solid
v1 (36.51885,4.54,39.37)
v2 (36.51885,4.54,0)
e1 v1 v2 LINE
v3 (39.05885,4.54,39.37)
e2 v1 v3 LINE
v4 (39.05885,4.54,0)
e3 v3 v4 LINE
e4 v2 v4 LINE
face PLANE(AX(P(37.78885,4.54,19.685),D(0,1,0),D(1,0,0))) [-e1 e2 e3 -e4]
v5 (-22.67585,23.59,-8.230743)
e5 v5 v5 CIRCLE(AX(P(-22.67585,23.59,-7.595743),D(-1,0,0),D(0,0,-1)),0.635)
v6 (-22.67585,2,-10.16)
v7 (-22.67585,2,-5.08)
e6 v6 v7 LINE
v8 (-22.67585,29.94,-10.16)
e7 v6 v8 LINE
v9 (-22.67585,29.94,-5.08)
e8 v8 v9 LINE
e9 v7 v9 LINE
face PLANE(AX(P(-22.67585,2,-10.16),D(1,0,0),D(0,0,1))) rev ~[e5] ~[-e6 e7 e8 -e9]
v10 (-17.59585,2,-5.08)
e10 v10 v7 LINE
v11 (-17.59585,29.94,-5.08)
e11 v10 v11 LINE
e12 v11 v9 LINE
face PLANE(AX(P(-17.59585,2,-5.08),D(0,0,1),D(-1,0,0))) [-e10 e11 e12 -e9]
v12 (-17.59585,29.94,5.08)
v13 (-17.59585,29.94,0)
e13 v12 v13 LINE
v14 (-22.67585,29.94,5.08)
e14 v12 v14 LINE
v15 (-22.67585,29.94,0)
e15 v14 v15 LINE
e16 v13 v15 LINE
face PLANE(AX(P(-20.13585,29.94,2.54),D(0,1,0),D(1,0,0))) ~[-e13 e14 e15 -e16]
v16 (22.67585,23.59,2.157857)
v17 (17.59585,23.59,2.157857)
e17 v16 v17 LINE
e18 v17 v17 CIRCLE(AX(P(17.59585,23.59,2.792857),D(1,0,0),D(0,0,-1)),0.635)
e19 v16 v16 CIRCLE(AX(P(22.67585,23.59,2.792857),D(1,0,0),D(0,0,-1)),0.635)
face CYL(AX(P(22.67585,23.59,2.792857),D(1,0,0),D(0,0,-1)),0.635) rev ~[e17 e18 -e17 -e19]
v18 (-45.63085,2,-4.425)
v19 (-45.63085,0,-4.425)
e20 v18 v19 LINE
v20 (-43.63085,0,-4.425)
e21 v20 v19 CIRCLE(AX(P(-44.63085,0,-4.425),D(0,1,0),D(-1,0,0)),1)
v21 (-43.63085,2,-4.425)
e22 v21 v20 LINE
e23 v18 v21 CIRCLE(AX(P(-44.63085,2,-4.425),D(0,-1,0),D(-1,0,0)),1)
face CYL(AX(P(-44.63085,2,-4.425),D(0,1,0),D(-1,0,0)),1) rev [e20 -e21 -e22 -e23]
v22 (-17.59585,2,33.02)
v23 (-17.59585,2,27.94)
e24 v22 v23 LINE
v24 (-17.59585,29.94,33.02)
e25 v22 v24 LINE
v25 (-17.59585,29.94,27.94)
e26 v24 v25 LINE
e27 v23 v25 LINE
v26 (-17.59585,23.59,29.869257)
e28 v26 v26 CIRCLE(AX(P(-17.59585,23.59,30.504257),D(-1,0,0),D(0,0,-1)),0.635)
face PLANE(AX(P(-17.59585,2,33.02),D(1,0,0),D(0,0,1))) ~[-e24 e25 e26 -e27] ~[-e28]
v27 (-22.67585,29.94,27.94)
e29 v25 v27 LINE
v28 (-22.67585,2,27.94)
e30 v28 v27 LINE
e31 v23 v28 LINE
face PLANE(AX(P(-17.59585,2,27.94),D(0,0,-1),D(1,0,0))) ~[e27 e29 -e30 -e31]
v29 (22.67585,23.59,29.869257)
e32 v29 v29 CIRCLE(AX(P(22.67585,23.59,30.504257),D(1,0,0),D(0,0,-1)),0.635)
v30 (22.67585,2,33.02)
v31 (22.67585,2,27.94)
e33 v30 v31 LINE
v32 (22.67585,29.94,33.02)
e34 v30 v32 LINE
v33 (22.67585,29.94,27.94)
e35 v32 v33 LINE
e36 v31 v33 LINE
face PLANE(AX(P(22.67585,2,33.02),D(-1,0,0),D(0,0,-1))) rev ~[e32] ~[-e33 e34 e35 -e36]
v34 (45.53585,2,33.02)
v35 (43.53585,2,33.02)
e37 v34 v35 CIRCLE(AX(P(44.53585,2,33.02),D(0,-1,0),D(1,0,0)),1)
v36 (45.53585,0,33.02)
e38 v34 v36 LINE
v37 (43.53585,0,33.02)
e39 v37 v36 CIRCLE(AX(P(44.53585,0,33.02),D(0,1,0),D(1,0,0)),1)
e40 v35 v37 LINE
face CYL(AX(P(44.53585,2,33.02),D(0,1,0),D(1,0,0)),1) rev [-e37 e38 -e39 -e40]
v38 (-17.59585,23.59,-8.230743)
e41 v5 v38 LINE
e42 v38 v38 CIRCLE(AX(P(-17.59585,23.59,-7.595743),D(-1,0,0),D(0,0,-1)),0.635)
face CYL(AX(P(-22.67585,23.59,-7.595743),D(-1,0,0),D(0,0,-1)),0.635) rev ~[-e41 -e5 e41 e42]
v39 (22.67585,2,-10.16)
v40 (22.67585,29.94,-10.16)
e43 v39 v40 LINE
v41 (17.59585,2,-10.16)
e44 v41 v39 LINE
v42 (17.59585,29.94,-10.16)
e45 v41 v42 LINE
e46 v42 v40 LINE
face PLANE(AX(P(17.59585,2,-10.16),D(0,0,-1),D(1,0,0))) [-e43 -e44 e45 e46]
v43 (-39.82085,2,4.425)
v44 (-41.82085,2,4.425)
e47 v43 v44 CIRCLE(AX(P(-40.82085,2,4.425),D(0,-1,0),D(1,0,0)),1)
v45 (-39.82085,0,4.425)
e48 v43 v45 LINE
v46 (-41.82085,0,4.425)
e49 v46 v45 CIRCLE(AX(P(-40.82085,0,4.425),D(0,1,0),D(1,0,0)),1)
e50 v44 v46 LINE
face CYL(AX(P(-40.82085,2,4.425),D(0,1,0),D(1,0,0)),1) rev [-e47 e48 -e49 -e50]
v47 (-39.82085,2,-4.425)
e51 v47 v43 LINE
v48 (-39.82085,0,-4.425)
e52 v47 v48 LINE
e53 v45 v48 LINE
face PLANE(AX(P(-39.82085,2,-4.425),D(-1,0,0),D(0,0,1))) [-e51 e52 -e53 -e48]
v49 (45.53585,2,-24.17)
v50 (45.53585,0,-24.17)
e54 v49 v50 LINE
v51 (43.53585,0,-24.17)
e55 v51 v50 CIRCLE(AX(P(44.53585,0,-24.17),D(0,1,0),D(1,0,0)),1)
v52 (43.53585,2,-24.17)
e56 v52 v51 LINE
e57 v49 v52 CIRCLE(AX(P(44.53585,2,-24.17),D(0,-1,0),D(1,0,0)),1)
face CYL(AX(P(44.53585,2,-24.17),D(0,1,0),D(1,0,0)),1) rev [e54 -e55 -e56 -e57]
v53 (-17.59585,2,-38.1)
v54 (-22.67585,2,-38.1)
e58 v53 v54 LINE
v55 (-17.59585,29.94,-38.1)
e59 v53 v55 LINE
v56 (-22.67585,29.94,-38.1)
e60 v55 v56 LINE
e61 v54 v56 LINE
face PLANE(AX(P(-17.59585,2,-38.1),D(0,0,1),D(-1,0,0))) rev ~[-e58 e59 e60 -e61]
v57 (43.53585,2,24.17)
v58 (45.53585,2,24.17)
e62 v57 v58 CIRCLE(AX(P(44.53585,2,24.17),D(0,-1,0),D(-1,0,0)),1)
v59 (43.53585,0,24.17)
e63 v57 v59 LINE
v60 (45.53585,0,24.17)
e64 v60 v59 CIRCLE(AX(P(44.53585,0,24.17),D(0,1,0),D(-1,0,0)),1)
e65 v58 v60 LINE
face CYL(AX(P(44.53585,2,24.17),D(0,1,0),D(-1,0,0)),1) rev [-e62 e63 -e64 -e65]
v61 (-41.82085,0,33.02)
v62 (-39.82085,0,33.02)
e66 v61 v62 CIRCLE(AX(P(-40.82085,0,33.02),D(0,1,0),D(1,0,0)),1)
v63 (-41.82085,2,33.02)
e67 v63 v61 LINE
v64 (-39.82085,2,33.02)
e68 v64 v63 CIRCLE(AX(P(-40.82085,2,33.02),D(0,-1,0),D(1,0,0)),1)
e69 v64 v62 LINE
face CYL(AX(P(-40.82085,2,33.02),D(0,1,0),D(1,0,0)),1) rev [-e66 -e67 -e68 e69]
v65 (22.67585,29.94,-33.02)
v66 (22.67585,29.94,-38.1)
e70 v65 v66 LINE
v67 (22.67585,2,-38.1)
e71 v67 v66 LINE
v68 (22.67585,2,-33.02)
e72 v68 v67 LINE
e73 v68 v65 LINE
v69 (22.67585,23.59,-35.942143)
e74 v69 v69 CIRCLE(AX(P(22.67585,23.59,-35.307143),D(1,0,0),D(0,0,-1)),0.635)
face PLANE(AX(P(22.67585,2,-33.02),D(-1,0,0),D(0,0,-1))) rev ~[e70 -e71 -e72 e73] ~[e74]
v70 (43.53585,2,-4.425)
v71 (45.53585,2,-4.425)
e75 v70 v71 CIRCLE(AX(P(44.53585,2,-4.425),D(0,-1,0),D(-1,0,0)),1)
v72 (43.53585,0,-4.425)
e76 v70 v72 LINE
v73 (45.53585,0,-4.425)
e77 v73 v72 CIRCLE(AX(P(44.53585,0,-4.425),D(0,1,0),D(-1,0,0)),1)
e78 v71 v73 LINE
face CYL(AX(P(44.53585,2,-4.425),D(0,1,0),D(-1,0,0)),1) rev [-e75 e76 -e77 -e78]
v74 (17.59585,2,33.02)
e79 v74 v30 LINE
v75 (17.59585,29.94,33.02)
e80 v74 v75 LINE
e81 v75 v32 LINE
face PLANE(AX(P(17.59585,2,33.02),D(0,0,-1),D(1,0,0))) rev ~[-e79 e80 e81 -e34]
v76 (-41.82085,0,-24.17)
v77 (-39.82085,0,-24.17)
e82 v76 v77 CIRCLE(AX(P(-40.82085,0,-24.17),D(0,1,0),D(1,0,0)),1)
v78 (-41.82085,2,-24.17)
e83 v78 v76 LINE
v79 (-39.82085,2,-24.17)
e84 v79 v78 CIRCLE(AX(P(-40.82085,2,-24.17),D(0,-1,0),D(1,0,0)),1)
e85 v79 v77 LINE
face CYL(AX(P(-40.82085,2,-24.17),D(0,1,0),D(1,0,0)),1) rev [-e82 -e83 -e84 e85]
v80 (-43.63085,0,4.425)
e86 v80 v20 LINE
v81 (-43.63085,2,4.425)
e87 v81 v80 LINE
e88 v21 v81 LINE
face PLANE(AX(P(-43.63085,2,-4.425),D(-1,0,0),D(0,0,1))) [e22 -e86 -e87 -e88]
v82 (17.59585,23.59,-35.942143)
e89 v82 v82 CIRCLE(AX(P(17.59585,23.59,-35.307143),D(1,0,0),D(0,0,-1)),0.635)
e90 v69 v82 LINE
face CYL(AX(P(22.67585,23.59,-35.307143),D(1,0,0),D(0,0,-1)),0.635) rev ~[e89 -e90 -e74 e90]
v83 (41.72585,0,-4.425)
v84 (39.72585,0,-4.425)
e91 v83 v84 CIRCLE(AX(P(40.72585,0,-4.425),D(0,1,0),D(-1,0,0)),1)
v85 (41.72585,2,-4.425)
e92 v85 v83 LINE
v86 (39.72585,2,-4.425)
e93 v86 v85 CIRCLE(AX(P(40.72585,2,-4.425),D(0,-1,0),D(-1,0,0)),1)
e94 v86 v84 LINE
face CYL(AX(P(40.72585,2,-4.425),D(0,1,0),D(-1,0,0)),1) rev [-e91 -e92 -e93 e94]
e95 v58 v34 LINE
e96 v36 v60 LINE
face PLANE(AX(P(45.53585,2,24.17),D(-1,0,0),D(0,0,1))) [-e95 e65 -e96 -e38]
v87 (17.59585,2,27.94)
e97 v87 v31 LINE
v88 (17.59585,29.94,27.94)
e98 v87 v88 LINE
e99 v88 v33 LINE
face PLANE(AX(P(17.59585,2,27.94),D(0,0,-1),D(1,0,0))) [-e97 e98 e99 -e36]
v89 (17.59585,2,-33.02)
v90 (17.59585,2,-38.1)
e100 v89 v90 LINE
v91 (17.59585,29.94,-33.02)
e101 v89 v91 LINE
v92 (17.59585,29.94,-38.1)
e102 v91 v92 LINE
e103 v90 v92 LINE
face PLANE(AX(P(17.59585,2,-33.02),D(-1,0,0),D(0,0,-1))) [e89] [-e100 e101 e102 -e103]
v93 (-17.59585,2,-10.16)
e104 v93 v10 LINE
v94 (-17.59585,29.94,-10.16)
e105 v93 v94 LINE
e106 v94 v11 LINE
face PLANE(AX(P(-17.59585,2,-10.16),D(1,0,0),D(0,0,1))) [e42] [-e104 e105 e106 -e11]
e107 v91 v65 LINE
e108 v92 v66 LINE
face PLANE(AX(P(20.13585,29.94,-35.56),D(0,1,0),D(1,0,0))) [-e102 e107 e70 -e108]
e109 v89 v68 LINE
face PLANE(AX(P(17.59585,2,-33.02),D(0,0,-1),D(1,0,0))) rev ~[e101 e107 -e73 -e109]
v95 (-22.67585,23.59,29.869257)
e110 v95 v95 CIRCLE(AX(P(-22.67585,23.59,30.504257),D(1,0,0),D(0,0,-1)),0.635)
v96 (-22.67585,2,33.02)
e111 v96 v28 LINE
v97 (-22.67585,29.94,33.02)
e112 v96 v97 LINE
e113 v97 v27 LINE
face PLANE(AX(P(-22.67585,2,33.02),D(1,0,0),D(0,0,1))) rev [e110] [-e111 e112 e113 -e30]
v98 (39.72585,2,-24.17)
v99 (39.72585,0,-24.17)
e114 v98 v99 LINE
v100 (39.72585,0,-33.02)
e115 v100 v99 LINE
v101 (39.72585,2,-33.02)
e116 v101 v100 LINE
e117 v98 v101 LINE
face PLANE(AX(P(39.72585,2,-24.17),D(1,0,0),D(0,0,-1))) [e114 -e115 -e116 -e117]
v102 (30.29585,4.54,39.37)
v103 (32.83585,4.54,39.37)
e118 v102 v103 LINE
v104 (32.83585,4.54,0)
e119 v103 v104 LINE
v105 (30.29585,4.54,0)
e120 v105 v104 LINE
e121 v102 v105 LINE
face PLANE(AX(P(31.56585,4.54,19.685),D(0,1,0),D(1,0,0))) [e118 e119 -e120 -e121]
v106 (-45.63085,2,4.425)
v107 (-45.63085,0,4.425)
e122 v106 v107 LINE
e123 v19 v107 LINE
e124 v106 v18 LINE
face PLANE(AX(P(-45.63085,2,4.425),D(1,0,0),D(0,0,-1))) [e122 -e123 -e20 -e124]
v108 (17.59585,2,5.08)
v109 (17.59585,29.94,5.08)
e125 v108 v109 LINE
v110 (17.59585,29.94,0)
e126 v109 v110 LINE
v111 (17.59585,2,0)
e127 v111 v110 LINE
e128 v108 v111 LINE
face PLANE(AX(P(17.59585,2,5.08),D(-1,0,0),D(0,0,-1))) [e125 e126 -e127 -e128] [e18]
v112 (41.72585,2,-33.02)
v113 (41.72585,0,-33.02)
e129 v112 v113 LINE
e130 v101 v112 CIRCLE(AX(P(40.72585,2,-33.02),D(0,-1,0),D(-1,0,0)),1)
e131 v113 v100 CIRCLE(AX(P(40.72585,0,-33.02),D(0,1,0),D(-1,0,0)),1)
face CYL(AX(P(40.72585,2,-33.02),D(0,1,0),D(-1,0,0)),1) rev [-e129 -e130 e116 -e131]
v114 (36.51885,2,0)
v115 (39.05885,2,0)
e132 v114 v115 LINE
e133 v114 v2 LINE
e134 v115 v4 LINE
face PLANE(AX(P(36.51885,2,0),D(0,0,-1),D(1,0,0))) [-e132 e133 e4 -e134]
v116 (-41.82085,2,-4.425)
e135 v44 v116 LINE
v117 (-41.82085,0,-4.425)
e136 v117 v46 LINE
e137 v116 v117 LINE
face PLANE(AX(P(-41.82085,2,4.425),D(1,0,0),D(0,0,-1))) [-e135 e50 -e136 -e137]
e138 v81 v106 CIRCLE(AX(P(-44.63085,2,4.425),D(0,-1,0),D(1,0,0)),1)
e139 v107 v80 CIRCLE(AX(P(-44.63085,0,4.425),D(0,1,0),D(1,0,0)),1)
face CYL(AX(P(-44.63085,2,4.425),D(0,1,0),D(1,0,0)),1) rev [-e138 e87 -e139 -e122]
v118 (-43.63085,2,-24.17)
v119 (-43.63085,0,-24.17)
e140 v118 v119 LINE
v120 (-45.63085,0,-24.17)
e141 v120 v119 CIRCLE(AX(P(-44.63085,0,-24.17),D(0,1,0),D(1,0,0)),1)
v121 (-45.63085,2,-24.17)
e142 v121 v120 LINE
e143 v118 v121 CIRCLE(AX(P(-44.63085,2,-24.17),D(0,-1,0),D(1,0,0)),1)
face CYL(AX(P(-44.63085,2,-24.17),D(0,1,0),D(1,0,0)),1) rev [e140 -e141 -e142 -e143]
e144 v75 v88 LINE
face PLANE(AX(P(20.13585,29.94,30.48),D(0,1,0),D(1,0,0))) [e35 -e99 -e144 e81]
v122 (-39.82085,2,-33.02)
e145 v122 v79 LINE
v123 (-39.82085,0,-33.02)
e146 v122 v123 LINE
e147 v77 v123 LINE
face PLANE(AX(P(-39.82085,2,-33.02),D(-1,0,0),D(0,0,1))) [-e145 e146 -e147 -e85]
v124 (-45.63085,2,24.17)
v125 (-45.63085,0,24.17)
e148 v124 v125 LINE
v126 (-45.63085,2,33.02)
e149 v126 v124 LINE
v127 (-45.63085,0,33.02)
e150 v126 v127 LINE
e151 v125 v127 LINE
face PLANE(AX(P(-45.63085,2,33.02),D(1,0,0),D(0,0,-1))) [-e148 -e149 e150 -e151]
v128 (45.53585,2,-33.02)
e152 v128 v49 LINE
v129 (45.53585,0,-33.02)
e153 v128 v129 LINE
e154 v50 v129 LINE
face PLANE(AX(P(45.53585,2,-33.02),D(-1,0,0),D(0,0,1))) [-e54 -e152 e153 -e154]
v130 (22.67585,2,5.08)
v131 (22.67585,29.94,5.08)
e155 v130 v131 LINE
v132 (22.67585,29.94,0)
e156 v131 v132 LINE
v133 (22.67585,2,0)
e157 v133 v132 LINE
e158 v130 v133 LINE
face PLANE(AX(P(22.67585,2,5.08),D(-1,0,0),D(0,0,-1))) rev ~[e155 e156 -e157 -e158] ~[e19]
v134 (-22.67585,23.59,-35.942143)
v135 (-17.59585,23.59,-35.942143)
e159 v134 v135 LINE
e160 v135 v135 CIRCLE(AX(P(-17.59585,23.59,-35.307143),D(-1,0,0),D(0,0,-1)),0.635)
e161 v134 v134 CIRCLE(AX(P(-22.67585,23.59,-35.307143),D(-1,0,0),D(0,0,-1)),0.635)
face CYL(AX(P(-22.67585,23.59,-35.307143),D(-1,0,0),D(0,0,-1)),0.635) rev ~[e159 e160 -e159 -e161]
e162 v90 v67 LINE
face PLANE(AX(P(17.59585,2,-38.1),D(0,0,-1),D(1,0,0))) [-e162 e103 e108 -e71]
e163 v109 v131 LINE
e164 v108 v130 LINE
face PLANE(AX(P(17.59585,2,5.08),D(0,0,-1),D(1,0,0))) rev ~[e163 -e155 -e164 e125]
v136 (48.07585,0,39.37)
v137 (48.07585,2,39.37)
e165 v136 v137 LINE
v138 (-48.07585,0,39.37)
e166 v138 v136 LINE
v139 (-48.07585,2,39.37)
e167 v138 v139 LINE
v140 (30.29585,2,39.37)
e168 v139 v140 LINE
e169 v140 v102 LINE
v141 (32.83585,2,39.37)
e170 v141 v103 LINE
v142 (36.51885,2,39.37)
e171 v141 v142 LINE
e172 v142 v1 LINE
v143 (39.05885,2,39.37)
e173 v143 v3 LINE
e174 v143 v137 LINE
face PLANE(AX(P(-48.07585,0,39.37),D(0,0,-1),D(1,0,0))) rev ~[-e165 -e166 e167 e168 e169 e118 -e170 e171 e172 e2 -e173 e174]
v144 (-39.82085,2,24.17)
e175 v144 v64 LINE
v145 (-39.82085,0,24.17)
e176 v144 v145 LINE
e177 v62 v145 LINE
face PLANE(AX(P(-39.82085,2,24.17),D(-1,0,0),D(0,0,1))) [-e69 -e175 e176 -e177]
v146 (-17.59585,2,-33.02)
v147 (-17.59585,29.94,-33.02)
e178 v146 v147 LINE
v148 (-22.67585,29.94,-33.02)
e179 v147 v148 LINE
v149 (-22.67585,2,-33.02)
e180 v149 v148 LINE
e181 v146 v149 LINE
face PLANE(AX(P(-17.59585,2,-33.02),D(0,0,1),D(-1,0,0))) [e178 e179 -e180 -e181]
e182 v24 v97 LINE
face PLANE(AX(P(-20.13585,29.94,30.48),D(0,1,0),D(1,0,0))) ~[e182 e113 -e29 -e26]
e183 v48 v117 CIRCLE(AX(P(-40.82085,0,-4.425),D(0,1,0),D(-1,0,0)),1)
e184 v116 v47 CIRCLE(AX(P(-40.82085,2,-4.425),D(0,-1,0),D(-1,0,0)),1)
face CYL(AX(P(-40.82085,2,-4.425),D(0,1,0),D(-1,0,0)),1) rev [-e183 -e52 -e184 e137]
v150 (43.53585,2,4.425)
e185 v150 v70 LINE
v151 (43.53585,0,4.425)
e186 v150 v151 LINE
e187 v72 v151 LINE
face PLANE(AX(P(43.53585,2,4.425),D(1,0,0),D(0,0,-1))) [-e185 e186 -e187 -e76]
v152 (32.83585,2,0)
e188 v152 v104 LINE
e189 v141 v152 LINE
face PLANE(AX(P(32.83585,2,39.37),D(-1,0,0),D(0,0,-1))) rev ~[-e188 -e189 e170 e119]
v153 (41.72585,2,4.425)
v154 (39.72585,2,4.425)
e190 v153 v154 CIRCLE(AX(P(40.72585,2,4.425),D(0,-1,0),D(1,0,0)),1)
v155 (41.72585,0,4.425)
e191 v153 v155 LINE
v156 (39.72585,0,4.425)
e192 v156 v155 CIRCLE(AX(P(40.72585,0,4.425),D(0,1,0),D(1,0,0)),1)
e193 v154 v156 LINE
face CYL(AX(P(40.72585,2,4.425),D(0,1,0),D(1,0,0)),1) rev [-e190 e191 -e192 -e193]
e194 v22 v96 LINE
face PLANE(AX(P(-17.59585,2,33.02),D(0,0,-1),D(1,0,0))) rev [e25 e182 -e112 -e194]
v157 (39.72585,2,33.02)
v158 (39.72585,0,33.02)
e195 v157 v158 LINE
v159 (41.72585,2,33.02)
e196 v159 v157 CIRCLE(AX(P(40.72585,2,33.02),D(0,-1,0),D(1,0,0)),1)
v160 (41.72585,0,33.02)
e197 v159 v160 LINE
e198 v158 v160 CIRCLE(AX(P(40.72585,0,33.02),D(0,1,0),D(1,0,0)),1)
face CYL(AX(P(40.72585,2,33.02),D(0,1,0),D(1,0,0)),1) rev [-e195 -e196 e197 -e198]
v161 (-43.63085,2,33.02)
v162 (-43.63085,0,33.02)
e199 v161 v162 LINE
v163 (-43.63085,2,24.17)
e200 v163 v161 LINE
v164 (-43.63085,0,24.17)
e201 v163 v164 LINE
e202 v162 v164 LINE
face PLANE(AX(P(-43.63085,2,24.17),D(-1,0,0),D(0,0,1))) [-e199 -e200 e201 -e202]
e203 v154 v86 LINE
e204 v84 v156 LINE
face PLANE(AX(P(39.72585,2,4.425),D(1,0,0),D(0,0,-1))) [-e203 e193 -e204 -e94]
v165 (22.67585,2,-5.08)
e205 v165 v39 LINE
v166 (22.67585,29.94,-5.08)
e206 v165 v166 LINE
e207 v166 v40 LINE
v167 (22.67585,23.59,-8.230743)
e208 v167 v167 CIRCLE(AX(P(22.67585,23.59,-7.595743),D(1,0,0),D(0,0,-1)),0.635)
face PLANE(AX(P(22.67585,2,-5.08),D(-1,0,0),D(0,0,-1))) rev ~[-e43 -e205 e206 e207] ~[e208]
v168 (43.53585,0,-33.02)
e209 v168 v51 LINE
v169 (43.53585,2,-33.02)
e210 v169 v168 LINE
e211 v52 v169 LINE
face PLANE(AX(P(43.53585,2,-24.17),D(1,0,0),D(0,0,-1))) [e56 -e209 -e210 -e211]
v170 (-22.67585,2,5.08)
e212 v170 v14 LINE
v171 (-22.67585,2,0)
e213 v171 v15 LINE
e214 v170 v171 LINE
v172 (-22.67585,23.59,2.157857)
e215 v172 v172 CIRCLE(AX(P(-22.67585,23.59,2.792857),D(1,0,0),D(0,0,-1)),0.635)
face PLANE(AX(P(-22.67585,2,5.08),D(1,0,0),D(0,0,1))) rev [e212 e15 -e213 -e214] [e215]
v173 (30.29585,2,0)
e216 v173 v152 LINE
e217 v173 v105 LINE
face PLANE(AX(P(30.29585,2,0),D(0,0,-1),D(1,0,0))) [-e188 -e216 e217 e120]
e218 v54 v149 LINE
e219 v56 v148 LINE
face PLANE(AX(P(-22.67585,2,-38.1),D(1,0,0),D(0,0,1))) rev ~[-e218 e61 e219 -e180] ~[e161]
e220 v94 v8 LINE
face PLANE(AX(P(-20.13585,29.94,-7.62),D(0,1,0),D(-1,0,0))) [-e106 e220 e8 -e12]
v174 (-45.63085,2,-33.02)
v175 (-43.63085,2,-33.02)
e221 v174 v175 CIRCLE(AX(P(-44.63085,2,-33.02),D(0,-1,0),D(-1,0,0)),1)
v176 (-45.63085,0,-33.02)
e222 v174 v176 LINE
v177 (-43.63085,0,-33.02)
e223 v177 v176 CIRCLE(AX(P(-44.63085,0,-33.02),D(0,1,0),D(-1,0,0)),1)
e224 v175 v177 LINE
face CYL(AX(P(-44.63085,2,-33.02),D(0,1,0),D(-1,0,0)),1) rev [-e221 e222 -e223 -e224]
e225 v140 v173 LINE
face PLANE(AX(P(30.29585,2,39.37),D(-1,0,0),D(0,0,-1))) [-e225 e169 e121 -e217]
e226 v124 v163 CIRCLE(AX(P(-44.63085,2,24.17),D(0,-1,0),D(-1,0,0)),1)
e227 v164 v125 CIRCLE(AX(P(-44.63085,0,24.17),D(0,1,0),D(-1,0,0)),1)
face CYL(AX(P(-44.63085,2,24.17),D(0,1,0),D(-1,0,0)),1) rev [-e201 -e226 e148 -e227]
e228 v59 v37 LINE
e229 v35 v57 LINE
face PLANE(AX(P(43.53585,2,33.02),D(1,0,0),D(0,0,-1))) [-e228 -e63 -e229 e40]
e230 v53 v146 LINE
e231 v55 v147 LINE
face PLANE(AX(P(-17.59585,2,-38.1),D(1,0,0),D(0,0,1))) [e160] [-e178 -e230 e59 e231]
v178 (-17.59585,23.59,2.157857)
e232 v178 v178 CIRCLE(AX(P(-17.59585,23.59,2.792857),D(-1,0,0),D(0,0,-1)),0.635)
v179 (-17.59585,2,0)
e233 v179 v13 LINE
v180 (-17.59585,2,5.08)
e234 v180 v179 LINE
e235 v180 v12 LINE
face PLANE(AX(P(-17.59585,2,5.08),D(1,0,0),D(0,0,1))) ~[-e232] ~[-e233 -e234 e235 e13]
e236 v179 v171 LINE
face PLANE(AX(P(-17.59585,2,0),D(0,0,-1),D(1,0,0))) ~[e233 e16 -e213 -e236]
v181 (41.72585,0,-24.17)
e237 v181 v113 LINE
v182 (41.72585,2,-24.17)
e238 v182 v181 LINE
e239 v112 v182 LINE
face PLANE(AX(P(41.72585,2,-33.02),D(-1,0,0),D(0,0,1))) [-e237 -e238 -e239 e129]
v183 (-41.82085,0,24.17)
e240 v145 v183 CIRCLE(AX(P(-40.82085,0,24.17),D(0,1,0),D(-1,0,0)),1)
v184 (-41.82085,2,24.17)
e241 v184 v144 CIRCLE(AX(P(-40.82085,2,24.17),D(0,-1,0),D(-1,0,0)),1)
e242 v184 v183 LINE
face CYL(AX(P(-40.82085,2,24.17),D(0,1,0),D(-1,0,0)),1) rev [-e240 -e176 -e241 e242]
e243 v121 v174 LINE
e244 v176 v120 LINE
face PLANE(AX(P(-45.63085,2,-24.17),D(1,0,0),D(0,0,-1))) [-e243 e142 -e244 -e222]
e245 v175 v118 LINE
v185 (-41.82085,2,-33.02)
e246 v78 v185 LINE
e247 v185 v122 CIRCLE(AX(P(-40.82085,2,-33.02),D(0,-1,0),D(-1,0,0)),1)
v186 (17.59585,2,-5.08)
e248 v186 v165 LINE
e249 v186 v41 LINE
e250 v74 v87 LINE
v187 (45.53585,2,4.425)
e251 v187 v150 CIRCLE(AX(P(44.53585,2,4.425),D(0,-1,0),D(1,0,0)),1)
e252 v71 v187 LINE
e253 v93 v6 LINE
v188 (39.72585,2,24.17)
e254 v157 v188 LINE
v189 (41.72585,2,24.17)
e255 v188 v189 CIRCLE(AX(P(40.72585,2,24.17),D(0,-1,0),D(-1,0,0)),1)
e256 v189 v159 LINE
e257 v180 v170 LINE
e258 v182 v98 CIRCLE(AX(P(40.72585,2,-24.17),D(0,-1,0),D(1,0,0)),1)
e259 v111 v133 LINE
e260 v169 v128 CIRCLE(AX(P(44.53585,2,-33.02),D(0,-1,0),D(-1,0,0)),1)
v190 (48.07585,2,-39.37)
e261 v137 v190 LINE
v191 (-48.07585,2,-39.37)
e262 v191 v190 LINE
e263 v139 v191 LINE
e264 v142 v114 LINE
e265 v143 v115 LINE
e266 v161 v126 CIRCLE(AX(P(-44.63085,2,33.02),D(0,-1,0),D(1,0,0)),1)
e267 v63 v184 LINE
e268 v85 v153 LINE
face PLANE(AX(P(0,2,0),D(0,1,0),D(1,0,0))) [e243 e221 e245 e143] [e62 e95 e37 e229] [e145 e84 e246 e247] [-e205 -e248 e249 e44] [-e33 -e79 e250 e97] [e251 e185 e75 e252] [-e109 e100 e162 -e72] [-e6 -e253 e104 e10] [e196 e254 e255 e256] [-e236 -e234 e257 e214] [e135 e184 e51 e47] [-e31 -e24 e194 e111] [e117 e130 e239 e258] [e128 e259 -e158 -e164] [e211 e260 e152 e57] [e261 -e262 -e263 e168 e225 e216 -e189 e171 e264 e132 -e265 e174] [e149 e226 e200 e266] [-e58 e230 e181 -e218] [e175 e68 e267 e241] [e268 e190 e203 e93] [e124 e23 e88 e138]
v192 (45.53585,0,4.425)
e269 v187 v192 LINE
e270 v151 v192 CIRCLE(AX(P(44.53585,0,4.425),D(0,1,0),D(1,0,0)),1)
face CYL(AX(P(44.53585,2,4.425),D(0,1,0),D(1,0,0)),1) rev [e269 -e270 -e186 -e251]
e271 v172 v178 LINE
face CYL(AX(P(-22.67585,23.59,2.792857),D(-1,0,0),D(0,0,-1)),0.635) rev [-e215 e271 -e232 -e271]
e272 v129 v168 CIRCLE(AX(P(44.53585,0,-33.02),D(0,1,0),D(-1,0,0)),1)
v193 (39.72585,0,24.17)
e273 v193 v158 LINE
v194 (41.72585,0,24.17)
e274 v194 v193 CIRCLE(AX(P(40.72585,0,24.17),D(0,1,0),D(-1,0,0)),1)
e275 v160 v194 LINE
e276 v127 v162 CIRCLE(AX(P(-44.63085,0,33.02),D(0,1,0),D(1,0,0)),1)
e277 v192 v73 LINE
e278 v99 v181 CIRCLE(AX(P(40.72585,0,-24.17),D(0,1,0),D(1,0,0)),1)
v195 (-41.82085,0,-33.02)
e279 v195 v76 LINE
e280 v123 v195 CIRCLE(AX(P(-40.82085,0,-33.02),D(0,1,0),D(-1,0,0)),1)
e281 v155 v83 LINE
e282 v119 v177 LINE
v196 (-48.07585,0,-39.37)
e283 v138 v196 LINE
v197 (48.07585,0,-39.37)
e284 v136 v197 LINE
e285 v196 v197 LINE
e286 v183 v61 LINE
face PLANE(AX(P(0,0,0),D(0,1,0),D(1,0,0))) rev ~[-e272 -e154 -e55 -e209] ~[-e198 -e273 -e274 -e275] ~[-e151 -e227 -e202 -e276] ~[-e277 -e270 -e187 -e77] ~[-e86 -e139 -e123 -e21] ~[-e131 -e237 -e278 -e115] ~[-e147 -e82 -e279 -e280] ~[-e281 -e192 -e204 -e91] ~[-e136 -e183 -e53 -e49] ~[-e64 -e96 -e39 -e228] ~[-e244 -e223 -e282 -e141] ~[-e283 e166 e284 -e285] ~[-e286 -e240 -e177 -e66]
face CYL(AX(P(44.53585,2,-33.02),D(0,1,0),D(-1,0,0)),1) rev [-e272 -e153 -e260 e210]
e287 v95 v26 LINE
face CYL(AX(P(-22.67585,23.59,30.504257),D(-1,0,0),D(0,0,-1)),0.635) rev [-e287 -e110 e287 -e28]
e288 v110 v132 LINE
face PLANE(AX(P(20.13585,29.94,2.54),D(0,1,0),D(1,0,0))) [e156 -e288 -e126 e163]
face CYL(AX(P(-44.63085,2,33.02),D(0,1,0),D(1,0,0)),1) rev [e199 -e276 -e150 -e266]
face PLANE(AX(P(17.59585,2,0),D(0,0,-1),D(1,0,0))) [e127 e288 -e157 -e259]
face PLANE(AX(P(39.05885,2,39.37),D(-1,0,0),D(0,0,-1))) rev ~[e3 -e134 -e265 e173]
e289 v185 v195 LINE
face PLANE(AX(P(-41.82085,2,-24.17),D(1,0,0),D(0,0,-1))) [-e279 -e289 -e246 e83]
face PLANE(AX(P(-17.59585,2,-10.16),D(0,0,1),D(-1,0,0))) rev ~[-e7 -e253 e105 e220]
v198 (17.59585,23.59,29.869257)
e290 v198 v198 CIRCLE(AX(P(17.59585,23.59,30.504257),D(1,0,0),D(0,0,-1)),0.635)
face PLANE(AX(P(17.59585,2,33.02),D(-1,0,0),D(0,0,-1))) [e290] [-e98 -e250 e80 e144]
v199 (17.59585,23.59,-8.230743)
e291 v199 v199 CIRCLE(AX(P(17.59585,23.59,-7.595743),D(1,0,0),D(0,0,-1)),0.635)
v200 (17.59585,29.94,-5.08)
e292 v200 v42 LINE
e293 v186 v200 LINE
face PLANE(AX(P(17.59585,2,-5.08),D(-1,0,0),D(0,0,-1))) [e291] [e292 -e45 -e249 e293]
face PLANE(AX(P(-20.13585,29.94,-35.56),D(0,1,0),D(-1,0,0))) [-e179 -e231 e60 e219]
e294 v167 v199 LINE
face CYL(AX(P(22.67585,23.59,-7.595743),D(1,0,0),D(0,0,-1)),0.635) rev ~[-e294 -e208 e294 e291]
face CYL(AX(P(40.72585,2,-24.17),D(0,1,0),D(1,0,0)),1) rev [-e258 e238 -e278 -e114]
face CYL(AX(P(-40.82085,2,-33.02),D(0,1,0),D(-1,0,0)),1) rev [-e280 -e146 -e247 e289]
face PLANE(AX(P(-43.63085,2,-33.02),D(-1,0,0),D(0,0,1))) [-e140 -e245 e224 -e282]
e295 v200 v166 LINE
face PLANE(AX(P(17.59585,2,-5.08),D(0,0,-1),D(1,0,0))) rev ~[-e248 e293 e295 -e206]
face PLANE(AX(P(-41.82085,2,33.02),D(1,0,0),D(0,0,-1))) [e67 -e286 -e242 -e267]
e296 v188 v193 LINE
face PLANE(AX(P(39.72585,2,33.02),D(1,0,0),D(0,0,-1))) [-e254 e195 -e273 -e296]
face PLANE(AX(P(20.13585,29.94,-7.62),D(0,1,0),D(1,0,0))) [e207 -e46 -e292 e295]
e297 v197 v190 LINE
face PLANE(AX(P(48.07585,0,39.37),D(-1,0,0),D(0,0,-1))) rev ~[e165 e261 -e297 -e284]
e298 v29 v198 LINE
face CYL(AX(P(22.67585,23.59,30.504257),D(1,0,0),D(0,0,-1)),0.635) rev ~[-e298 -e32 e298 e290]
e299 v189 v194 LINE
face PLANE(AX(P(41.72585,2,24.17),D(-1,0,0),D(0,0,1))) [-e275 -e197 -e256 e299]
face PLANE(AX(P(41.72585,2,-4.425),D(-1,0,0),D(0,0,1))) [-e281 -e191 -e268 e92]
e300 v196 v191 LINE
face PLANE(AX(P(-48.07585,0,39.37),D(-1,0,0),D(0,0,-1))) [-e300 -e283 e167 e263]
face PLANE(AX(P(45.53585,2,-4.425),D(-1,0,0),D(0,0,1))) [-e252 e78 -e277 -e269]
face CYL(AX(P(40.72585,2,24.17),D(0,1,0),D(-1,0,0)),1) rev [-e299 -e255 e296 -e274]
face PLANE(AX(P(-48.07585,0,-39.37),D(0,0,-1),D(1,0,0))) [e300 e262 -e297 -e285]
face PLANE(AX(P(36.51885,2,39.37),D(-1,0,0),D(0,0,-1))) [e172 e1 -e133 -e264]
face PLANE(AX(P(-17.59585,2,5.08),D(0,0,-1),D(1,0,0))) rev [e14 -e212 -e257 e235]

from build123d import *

# Parameters (mm, degrees)
SKETCH1_W                           = 96.1517
SKETCH1_H                           = 78.74
BASE_PLATE_DEPTH                    = 2
SKETCH2_W                           = 5.08
SKETCH2_H                           = 5.08
SERVO_SUPPORTS_DEPTH                = 27.94
SKETCH3_R                           = 0.635
SERVO_MOUNT_HOLES_DEPTH             = 12.7
STRAP_HOLES_REACH                   = 70.132
SERVO_MOUNT_SPACING_COUNT           = 2
SERVO_MOUNT_SPACING_PITCH           = 38.1
SERVO_MOUNT_SPACING_COPY_1_SKETCH_W = 5.08
SERVO_MOUNT_SPACING_COPY_1_SKETCH_H = 5.08
SERVO_MOUNT_SPACING_COPY_1_DEPTH    = 27.94
SERVO_MOUNT_SPACING_COPY_2_SKETCH_R = 0.635
SERVO_MOUNT_SPACING_COPY_2_DEPTH    = 12.7
SKETCH11_W                          = 2.54
SKETCH11_H                          = 39.37
RACK_RAILS_DEPTH                    = 2.54


with BuildPart() as part:
    # Sketch1 → Base Plate (new body)
    with BuildSketch(Plane(origin=(0, 0, 0), x_dir=(1, 0, 0), z_dir=(0, 1, 0))):
        Rectangle(SKETCH1_W, SKETCH1_H)
    extrude(amount=BASE_PLATE_DEPTH)

    # Sketch2 → Servo Supports (add)
    with BuildSketch(Plane(origin=(0, 2, 0), x_dir=(1, 0, 0), z_dir=(0, 1, 0))):
        with Locations((20.13585, -30.48)):
            Rectangle(SKETCH2_W, SKETCH2_H)
        with Locations((20.13585, -2.54)):
            Rectangle(SKETCH2_W, SKETCH2_H)
    servo_supports = extrude(amount=SERVO_SUPPORTS_DEPTH)

    # Sketch3 → Servo Mount Holes (cut)
    with BuildSketch(Plane(origin=(22.67585, 0, 0), x_dir=(0, 0, -1), z_dir=(1, 0, 0))):
        with Locations((-30.504257117, 23.59)):
            Circle(SKETCH3_R)
        with Locations((-2.792857117, 23.59)):
            Circle(SKETCH3_R)
    servo_mount_holes = extrude(amount=-SERVO_MOUNT_HOLES_DEPTH, mode=Mode.SUBTRACT)

    # Sketch4 → Strap Holes (cut, up to next)
    with BuildSketch(Plane(origin=(0, 2, 0), x_dir=(1, 0, 0), z_dir=(0, 1, 0)), mode=Mode.PRIVATE) as strap_holes_sk1:
        with BuildLine():
            Line((45.53585, -24.17), (45.53585, -33.02))
            ThreePointArc((45.53585, -33.02), (44.53585, -34.02), (43.53585, -33.02))
            Line((43.53585, -33.02), (43.53585, -24.17))
            ThreePointArc((43.53585, -24.17), (44.53585, -23.17), (45.53585, -24.17))
        make_face()
    strap_holes_tool1 = extrude(strap_holes_sk1.sketch, amount=-STRAP_HOLES_REACH, mode=Mode.PRIVATE) & part.part
    # Sketch4 → Strap Holes (cut, up to next)
    with BuildSketch(Plane(origin=(0, 2, 0), x_dir=(1, 0, 0), z_dir=(0, 1, 0)), mode=Mode.PRIVATE) as strap_holes_sk2:
        with BuildLine():
            Line((45.53585, 33.02), (45.53585, 24.17))
            ThreePointArc((45.53585, 24.17), (44.53585, 23.17), (43.53585, 24.17))
            Line((43.53585, 24.17), (43.53585, 33.02))
            ThreePointArc((43.53585, 33.02), (44.53585, 34.02), (45.53585, 33.02))
        make_face()
    strap_holes_tool2 = extrude(strap_holes_sk2.sketch, amount=-STRAP_HOLES_REACH, mode=Mode.PRIVATE) & part.part
    # Sketch4 → Strap Holes (cut, up to next)
    with BuildSketch(Plane(origin=(0, 2, 0), x_dir=(1, 0, 0), z_dir=(0, 1, 0)), mode=Mode.PRIVATE) as strap_holes_sk3:
        with BuildLine():
            Line((-43.63085, -24.17), (-43.63085, -33.02))
            ThreePointArc((-43.63085, -33.02), (-44.63085, -34.02), (-45.63085, -33.02))
            Line((-45.63085, -33.02), (-45.63085, -24.17))
            ThreePointArc((-45.63085, -24.17), (-44.63085, -23.17), (-43.63085, -24.17))
        make_face()
    strap_holes_tool3 = extrude(strap_holes_sk3.sketch, amount=-STRAP_HOLES_REACH, mode=Mode.PRIVATE) & part.part
    # Sketch4 → Strap Holes (cut, up to next)
    with BuildSketch(Plane(origin=(0, 2, 0), x_dir=(1, 0, 0), z_dir=(0, 1, 0)), mode=Mode.PRIVATE) as strap_holes_sk4:
        with BuildLine():
            Line((-43.63085, 33.02), (-43.63085, 24.17))
            ThreePointArc((-43.63085, 24.17), (-44.63085, 23.17), (-45.63085, 24.17))
            Line((-45.63085, 24.17), (-45.63085, 33.02))
            ThreePointArc((-45.63085, 33.02), (-44.63085, 34.02), (-43.63085, 33.02))
        make_face()
    strap_holes_tool4 = extrude(strap_holes_sk4.sketch, amount=-STRAP_HOLES_REACH, mode=Mode.PRIVATE) & part.part
    # Sketch4 → Strap Holes (cut, up to next)
    with BuildSketch(Plane(origin=(0, 2, 0), x_dir=(1, 0, 0), z_dir=(0, 1, 0)), mode=Mode.PRIVATE) as strap_holes_sk5:
        with BuildLine():
            Line((45.53585, 4.425), (45.53585, -4.425))
            ThreePointArc((45.53585, -4.425), (44.53585, -5.425), (43.53585, -4.425))
            Line((43.53585, -4.425), (43.53585, 4.425))
            ThreePointArc((43.53585, 4.425), (44.53585, 5.425), (45.53585, 4.425))
        make_face()
    strap_holes_tool5 = extrude(strap_holes_sk5.sketch, amount=-STRAP_HOLES_REACH, mode=Mode.PRIVATE) & part.part
    # Sketch4 → Strap Holes (cut, up to next)
    with BuildSketch(Plane(origin=(0, 2, 0), x_dir=(1, 0, 0), z_dir=(0, 1, 0)), mode=Mode.PRIVATE) as strap_holes_sk6:
        with BuildLine():
            Line((-43.63085, 4.425), (-43.63085, -4.425))
            ThreePointArc((-43.63085, -4.425), (-44.63085, -5.425), (-45.63085, -4.425))
            Line((-45.63085, -4.425), (-45.63085, 4.425))
            ThreePointArc((-45.63085, 4.425), (-44.63085, 5.425), (-43.63085, 4.425))
        make_face()
    strap_holes_tool6 = extrude(strap_holes_sk6.sketch, amount=-STRAP_HOLES_REACH, mode=Mode.PRIVATE) & part.part
    # Sketch4 → Strap Holes (cut, up to next)
    with BuildSketch(Plane(origin=(0, 2, 0), x_dir=(1, 0, 0), z_dir=(0, 1, 0)), mode=Mode.PRIVATE) as strap_holes_sk7:
        with BuildLine():
            Line((41.72585, -24.17), (41.72585, -33.02))
            ThreePointArc((41.72585, -33.02), (40.72585, -34.02), (39.72585, -33.02))
            Line((39.72585, -33.02), (39.72585, -24.17))
            ThreePointArc((39.72585, -24.17), (40.72585, -23.17), (41.72585, -24.17))
        make_face()
    strap_holes_tool7 = extrude(strap_holes_sk7.sketch, amount=-STRAP_HOLES_REACH, mode=Mode.PRIVATE) & part.part
    # Sketch4 → Strap Holes (cut, up to next)
    with BuildSketch(Plane(origin=(0, 2, 0), x_dir=(1, 0, 0), z_dir=(0, 1, 0)), mode=Mode.PRIVATE) as strap_holes_sk8:
        with BuildLine():
            Line((41.72585, 33.02), (41.72585, 24.17))
            ThreePointArc((41.72585, 24.17), (40.72585, 23.17), (39.72585, 24.17))
            Line((39.72585, 24.17), (39.72585, 33.02))
            ThreePointArc((39.72585, 33.02), (40.72585, 34.02), (41.72585, 33.02))
        make_face()
    strap_holes_tool8 = extrude(strap_holes_sk8.sketch, amount=-STRAP_HOLES_REACH, mode=Mode.PRIVATE) & part.part
    # Sketch4 → Strap Holes (cut, up to next)
    with BuildSketch(Plane(origin=(0, 2, 0), x_dir=(1, 0, 0), z_dir=(0, 1, 0)), mode=Mode.PRIVATE) as strap_holes_sk9:
        with BuildLine():
            Line((41.72585, 4.425), (41.72585, -4.425))
            ThreePointArc((41.72585, -4.425), (40.72585, -5.425), (39.72585, -4.425))
            Line((39.72585, -4.425), (39.72585, 4.425))
            ThreePointArc((39.72585, 4.425), (40.72585, 5.425), (41.72585, 4.425))
        make_face()
    strap_holes_tool9 = extrude(strap_holes_sk9.sketch, amount=-STRAP_HOLES_REACH, mode=Mode.PRIVATE) & part.part
    # Sketch4 → Strap Holes (cut, up to next)
    with BuildSketch(Plane(origin=(0, 2, 0), x_dir=(1, 0, 0), z_dir=(0, 1, 0)), mode=Mode.PRIVATE) as strap_holes_sk10:
        with BuildLine():
            Line((-39.82085, -24.17), (-39.82085, -33.02))
            ThreePointArc((-39.82085, -33.02), (-40.82085, -34.02), (-41.82085, -33.02))
            Line((-41.82085, -33.02), (-41.82085, -24.17))
            ThreePointArc((-41.82085, -24.17), (-40.82085, -23.17), (-39.82085, -24.17))
        make_face()
    strap_holes_tool10 = extrude(strap_holes_sk10.sketch, amount=-STRAP_HOLES_REACH, mode=Mode.PRIVATE) & part.part
    # Sketch4 → Strap Holes (cut, up to next)
    with BuildSketch(Plane(origin=(0, 2, 0), x_dir=(1, 0, 0), z_dir=(0, 1, 0)), mode=Mode.PRIVATE) as strap_holes_sk11:
        with BuildLine():
            Line((-39.82085, 33.02), (-39.82085, 24.17))
            ThreePointArc((-39.82085, 24.17), (-40.82085, 23.17), (-41.82085, 24.17))
            Line((-41.82085, 24.17), (-41.82085, 33.02))
            ThreePointArc((-41.82085, 33.02), (-40.82085, 34.02), (-39.82085, 33.02))
        make_face()
    strap_holes_tool11 = extrude(strap_holes_sk11.sketch, amount=-STRAP_HOLES_REACH, mode=Mode.PRIVATE) & part.part
    # Sketch4 → Strap Holes (cut, up to next)
    with BuildSketch(Plane(origin=(0, 2, 0), x_dir=(1, 0, 0), z_dir=(0, 1, 0)), mode=Mode.PRIVATE) as strap_holes_sk12:
        with BuildLine():
            Line((-39.82085, 4.425), (-39.82085, -4.425))
            ThreePointArc((-39.82085, -4.425), (-40.82085, -5.425), (-41.82085, -4.425))
            Line((-41.82085, -4.425), (-41.82085, 4.425))
            ThreePointArc((-41.82085, 4.425), (-40.82085, 5.425), (-39.82085, 4.425))
        make_face()
    strap_holes_tool12 = extrude(strap_holes_sk12.sketch, amount=-STRAP_HOLES_REACH, mode=Mode.PRIVATE) & part.part
    add(strap_holes_tool1.solids().sort_by_distance((44.53585, 2, 28.595))[0], mode=Mode.SUBTRACT)
    add(strap_holes_tool2.solids().sort_by_distance((44.53585, 2, -28.595))[0], mode=Mode.SUBTRACT)
    add(strap_holes_tool3.solids().sort_by_distance((-44.63085, 2, 28.595))[0], mode=Mode.SUBTRACT)
    add(strap_holes_tool4.solids().sort_by_distance((-44.63085, 2, -28.595))[0], mode=Mode.SUBTRACT)
    add(strap_holes_tool5.solids().sort_by_distance((44.53585, 2, 0))[0], mode=Mode.SUBTRACT)
    add(strap_holes_tool6.solids().sort_by_distance((-44.63085, 2, 0))[0], mode=Mode.SUBTRACT)
    add(strap_holes_tool7.solids().sort_by_distance((40.72585, 2, 28.595))[0], mode=Mode.SUBTRACT)
    add(strap_holes_tool8.solids().sort_by_distance((40.72585, 2, -28.595))[0], mode=Mode.SUBTRACT)
    add(strap_holes_tool9.solids().sort_by_distance((40.72585, 2, 0))[0], mode=Mode.SUBTRACT)
    add(strap_holes_tool10.solids().sort_by_distance((-40.82085, 2, 28.595))[0], mode=Mode.SUBTRACT)
    add(strap_holes_tool11.solids().sort_by_distance((-40.82085, 2, -28.595))[0], mode=Mode.SUBTRACT)
    add(strap_holes_tool12.solids().sort_by_distance((-40.82085, 2, 0))[0], mode=Mode.SUBTRACT)

    # Servo Mount Mirror: Servo Supports, Servo Mount Holes across plane
    add(servo_supports.mirror(Plane(origin=(0, 0, 0), x_dir=(0, 0, 1), z_dir=(1, 0, 0))))
    add(servo_mount_holes.mirror(Plane(origin=(0, 0, 0), x_dir=(0, 0, 1), z_dir=(1, 0, 0))), mode=Mode.SUBTRACT)

    # Servo Mount Spacing: Servo Supports, Servo Mount Holes ×2
    with Locations(*[(0, 0, -i * SERVO_MOUNT_SPACING_PITCH) for i in range(1, SERVO_MOUNT_SPACING_COUNT)]):
        add(servo_supports)
        add(servo_mount_holes, mode=Mode.SUBTRACT)

    # Servo Mount Spacing copy 1 sketch → Servo Mount Spacing copy 1 (add)
    with BuildSketch(Plane(origin=(0, 2, -38.1), x_dir=(-1, 0, 0), z_dir=(0, 1, 0))):
        with Locations((20.13585, 30.48)):
            Rectangle(SERVO_MOUNT_SPACING_COPY_1_SKETCH_W, SERVO_MOUNT_SPACING_COPY_1_SKETCH_H)
        with Locations((20.13585, 2.54)):
            Rectangle(SERVO_MOUNT_SPACING_COPY_1_SKETCH_W, SERVO_MOUNT_SPACING_COPY_1_SKETCH_H)
    extrude(amount=SERVO_MOUNT_SPACING_COPY_1_DEPTH)

    # Servo Mount Spacing copy 2 sketch → Servo Mount Spacing copy 2 (cut)
    with BuildSketch(Plane(origin=(-22.67585, 0, -38.1), x_dir=(0, 0, -1), z_dir=(-1, 0, 0))):
        with Locations((-30.504257117, -23.59)):
            Circle(SERVO_MOUNT_SPACING_COPY_2_SKETCH_R)
        with Locations((-2.792857117, -23.59)):
            Circle(SERVO_MOUNT_SPACING_COPY_2_SKETCH_R)
    extrude(amount=-SERVO_MOUNT_SPACING_COPY_2_DEPTH, mode=Mode.SUBTRACT)

    # Sketch11 → Rack Rails (add)
    with BuildSketch(Plane(origin=(0, 2, 0), x_dir=(1, 0, 0), z_dir=(0, 1, 0))):
        with Locations((31.56585, -19.685)):
            Rectangle(SKETCH11_W, SKETCH11_H)
        with Locations((37.78885, -19.685)):
            Rectangle(SKETCH11_W, SKETCH11_H)
    extrude(amount=RACK_RAILS_DEPTH)


solid = part.part
